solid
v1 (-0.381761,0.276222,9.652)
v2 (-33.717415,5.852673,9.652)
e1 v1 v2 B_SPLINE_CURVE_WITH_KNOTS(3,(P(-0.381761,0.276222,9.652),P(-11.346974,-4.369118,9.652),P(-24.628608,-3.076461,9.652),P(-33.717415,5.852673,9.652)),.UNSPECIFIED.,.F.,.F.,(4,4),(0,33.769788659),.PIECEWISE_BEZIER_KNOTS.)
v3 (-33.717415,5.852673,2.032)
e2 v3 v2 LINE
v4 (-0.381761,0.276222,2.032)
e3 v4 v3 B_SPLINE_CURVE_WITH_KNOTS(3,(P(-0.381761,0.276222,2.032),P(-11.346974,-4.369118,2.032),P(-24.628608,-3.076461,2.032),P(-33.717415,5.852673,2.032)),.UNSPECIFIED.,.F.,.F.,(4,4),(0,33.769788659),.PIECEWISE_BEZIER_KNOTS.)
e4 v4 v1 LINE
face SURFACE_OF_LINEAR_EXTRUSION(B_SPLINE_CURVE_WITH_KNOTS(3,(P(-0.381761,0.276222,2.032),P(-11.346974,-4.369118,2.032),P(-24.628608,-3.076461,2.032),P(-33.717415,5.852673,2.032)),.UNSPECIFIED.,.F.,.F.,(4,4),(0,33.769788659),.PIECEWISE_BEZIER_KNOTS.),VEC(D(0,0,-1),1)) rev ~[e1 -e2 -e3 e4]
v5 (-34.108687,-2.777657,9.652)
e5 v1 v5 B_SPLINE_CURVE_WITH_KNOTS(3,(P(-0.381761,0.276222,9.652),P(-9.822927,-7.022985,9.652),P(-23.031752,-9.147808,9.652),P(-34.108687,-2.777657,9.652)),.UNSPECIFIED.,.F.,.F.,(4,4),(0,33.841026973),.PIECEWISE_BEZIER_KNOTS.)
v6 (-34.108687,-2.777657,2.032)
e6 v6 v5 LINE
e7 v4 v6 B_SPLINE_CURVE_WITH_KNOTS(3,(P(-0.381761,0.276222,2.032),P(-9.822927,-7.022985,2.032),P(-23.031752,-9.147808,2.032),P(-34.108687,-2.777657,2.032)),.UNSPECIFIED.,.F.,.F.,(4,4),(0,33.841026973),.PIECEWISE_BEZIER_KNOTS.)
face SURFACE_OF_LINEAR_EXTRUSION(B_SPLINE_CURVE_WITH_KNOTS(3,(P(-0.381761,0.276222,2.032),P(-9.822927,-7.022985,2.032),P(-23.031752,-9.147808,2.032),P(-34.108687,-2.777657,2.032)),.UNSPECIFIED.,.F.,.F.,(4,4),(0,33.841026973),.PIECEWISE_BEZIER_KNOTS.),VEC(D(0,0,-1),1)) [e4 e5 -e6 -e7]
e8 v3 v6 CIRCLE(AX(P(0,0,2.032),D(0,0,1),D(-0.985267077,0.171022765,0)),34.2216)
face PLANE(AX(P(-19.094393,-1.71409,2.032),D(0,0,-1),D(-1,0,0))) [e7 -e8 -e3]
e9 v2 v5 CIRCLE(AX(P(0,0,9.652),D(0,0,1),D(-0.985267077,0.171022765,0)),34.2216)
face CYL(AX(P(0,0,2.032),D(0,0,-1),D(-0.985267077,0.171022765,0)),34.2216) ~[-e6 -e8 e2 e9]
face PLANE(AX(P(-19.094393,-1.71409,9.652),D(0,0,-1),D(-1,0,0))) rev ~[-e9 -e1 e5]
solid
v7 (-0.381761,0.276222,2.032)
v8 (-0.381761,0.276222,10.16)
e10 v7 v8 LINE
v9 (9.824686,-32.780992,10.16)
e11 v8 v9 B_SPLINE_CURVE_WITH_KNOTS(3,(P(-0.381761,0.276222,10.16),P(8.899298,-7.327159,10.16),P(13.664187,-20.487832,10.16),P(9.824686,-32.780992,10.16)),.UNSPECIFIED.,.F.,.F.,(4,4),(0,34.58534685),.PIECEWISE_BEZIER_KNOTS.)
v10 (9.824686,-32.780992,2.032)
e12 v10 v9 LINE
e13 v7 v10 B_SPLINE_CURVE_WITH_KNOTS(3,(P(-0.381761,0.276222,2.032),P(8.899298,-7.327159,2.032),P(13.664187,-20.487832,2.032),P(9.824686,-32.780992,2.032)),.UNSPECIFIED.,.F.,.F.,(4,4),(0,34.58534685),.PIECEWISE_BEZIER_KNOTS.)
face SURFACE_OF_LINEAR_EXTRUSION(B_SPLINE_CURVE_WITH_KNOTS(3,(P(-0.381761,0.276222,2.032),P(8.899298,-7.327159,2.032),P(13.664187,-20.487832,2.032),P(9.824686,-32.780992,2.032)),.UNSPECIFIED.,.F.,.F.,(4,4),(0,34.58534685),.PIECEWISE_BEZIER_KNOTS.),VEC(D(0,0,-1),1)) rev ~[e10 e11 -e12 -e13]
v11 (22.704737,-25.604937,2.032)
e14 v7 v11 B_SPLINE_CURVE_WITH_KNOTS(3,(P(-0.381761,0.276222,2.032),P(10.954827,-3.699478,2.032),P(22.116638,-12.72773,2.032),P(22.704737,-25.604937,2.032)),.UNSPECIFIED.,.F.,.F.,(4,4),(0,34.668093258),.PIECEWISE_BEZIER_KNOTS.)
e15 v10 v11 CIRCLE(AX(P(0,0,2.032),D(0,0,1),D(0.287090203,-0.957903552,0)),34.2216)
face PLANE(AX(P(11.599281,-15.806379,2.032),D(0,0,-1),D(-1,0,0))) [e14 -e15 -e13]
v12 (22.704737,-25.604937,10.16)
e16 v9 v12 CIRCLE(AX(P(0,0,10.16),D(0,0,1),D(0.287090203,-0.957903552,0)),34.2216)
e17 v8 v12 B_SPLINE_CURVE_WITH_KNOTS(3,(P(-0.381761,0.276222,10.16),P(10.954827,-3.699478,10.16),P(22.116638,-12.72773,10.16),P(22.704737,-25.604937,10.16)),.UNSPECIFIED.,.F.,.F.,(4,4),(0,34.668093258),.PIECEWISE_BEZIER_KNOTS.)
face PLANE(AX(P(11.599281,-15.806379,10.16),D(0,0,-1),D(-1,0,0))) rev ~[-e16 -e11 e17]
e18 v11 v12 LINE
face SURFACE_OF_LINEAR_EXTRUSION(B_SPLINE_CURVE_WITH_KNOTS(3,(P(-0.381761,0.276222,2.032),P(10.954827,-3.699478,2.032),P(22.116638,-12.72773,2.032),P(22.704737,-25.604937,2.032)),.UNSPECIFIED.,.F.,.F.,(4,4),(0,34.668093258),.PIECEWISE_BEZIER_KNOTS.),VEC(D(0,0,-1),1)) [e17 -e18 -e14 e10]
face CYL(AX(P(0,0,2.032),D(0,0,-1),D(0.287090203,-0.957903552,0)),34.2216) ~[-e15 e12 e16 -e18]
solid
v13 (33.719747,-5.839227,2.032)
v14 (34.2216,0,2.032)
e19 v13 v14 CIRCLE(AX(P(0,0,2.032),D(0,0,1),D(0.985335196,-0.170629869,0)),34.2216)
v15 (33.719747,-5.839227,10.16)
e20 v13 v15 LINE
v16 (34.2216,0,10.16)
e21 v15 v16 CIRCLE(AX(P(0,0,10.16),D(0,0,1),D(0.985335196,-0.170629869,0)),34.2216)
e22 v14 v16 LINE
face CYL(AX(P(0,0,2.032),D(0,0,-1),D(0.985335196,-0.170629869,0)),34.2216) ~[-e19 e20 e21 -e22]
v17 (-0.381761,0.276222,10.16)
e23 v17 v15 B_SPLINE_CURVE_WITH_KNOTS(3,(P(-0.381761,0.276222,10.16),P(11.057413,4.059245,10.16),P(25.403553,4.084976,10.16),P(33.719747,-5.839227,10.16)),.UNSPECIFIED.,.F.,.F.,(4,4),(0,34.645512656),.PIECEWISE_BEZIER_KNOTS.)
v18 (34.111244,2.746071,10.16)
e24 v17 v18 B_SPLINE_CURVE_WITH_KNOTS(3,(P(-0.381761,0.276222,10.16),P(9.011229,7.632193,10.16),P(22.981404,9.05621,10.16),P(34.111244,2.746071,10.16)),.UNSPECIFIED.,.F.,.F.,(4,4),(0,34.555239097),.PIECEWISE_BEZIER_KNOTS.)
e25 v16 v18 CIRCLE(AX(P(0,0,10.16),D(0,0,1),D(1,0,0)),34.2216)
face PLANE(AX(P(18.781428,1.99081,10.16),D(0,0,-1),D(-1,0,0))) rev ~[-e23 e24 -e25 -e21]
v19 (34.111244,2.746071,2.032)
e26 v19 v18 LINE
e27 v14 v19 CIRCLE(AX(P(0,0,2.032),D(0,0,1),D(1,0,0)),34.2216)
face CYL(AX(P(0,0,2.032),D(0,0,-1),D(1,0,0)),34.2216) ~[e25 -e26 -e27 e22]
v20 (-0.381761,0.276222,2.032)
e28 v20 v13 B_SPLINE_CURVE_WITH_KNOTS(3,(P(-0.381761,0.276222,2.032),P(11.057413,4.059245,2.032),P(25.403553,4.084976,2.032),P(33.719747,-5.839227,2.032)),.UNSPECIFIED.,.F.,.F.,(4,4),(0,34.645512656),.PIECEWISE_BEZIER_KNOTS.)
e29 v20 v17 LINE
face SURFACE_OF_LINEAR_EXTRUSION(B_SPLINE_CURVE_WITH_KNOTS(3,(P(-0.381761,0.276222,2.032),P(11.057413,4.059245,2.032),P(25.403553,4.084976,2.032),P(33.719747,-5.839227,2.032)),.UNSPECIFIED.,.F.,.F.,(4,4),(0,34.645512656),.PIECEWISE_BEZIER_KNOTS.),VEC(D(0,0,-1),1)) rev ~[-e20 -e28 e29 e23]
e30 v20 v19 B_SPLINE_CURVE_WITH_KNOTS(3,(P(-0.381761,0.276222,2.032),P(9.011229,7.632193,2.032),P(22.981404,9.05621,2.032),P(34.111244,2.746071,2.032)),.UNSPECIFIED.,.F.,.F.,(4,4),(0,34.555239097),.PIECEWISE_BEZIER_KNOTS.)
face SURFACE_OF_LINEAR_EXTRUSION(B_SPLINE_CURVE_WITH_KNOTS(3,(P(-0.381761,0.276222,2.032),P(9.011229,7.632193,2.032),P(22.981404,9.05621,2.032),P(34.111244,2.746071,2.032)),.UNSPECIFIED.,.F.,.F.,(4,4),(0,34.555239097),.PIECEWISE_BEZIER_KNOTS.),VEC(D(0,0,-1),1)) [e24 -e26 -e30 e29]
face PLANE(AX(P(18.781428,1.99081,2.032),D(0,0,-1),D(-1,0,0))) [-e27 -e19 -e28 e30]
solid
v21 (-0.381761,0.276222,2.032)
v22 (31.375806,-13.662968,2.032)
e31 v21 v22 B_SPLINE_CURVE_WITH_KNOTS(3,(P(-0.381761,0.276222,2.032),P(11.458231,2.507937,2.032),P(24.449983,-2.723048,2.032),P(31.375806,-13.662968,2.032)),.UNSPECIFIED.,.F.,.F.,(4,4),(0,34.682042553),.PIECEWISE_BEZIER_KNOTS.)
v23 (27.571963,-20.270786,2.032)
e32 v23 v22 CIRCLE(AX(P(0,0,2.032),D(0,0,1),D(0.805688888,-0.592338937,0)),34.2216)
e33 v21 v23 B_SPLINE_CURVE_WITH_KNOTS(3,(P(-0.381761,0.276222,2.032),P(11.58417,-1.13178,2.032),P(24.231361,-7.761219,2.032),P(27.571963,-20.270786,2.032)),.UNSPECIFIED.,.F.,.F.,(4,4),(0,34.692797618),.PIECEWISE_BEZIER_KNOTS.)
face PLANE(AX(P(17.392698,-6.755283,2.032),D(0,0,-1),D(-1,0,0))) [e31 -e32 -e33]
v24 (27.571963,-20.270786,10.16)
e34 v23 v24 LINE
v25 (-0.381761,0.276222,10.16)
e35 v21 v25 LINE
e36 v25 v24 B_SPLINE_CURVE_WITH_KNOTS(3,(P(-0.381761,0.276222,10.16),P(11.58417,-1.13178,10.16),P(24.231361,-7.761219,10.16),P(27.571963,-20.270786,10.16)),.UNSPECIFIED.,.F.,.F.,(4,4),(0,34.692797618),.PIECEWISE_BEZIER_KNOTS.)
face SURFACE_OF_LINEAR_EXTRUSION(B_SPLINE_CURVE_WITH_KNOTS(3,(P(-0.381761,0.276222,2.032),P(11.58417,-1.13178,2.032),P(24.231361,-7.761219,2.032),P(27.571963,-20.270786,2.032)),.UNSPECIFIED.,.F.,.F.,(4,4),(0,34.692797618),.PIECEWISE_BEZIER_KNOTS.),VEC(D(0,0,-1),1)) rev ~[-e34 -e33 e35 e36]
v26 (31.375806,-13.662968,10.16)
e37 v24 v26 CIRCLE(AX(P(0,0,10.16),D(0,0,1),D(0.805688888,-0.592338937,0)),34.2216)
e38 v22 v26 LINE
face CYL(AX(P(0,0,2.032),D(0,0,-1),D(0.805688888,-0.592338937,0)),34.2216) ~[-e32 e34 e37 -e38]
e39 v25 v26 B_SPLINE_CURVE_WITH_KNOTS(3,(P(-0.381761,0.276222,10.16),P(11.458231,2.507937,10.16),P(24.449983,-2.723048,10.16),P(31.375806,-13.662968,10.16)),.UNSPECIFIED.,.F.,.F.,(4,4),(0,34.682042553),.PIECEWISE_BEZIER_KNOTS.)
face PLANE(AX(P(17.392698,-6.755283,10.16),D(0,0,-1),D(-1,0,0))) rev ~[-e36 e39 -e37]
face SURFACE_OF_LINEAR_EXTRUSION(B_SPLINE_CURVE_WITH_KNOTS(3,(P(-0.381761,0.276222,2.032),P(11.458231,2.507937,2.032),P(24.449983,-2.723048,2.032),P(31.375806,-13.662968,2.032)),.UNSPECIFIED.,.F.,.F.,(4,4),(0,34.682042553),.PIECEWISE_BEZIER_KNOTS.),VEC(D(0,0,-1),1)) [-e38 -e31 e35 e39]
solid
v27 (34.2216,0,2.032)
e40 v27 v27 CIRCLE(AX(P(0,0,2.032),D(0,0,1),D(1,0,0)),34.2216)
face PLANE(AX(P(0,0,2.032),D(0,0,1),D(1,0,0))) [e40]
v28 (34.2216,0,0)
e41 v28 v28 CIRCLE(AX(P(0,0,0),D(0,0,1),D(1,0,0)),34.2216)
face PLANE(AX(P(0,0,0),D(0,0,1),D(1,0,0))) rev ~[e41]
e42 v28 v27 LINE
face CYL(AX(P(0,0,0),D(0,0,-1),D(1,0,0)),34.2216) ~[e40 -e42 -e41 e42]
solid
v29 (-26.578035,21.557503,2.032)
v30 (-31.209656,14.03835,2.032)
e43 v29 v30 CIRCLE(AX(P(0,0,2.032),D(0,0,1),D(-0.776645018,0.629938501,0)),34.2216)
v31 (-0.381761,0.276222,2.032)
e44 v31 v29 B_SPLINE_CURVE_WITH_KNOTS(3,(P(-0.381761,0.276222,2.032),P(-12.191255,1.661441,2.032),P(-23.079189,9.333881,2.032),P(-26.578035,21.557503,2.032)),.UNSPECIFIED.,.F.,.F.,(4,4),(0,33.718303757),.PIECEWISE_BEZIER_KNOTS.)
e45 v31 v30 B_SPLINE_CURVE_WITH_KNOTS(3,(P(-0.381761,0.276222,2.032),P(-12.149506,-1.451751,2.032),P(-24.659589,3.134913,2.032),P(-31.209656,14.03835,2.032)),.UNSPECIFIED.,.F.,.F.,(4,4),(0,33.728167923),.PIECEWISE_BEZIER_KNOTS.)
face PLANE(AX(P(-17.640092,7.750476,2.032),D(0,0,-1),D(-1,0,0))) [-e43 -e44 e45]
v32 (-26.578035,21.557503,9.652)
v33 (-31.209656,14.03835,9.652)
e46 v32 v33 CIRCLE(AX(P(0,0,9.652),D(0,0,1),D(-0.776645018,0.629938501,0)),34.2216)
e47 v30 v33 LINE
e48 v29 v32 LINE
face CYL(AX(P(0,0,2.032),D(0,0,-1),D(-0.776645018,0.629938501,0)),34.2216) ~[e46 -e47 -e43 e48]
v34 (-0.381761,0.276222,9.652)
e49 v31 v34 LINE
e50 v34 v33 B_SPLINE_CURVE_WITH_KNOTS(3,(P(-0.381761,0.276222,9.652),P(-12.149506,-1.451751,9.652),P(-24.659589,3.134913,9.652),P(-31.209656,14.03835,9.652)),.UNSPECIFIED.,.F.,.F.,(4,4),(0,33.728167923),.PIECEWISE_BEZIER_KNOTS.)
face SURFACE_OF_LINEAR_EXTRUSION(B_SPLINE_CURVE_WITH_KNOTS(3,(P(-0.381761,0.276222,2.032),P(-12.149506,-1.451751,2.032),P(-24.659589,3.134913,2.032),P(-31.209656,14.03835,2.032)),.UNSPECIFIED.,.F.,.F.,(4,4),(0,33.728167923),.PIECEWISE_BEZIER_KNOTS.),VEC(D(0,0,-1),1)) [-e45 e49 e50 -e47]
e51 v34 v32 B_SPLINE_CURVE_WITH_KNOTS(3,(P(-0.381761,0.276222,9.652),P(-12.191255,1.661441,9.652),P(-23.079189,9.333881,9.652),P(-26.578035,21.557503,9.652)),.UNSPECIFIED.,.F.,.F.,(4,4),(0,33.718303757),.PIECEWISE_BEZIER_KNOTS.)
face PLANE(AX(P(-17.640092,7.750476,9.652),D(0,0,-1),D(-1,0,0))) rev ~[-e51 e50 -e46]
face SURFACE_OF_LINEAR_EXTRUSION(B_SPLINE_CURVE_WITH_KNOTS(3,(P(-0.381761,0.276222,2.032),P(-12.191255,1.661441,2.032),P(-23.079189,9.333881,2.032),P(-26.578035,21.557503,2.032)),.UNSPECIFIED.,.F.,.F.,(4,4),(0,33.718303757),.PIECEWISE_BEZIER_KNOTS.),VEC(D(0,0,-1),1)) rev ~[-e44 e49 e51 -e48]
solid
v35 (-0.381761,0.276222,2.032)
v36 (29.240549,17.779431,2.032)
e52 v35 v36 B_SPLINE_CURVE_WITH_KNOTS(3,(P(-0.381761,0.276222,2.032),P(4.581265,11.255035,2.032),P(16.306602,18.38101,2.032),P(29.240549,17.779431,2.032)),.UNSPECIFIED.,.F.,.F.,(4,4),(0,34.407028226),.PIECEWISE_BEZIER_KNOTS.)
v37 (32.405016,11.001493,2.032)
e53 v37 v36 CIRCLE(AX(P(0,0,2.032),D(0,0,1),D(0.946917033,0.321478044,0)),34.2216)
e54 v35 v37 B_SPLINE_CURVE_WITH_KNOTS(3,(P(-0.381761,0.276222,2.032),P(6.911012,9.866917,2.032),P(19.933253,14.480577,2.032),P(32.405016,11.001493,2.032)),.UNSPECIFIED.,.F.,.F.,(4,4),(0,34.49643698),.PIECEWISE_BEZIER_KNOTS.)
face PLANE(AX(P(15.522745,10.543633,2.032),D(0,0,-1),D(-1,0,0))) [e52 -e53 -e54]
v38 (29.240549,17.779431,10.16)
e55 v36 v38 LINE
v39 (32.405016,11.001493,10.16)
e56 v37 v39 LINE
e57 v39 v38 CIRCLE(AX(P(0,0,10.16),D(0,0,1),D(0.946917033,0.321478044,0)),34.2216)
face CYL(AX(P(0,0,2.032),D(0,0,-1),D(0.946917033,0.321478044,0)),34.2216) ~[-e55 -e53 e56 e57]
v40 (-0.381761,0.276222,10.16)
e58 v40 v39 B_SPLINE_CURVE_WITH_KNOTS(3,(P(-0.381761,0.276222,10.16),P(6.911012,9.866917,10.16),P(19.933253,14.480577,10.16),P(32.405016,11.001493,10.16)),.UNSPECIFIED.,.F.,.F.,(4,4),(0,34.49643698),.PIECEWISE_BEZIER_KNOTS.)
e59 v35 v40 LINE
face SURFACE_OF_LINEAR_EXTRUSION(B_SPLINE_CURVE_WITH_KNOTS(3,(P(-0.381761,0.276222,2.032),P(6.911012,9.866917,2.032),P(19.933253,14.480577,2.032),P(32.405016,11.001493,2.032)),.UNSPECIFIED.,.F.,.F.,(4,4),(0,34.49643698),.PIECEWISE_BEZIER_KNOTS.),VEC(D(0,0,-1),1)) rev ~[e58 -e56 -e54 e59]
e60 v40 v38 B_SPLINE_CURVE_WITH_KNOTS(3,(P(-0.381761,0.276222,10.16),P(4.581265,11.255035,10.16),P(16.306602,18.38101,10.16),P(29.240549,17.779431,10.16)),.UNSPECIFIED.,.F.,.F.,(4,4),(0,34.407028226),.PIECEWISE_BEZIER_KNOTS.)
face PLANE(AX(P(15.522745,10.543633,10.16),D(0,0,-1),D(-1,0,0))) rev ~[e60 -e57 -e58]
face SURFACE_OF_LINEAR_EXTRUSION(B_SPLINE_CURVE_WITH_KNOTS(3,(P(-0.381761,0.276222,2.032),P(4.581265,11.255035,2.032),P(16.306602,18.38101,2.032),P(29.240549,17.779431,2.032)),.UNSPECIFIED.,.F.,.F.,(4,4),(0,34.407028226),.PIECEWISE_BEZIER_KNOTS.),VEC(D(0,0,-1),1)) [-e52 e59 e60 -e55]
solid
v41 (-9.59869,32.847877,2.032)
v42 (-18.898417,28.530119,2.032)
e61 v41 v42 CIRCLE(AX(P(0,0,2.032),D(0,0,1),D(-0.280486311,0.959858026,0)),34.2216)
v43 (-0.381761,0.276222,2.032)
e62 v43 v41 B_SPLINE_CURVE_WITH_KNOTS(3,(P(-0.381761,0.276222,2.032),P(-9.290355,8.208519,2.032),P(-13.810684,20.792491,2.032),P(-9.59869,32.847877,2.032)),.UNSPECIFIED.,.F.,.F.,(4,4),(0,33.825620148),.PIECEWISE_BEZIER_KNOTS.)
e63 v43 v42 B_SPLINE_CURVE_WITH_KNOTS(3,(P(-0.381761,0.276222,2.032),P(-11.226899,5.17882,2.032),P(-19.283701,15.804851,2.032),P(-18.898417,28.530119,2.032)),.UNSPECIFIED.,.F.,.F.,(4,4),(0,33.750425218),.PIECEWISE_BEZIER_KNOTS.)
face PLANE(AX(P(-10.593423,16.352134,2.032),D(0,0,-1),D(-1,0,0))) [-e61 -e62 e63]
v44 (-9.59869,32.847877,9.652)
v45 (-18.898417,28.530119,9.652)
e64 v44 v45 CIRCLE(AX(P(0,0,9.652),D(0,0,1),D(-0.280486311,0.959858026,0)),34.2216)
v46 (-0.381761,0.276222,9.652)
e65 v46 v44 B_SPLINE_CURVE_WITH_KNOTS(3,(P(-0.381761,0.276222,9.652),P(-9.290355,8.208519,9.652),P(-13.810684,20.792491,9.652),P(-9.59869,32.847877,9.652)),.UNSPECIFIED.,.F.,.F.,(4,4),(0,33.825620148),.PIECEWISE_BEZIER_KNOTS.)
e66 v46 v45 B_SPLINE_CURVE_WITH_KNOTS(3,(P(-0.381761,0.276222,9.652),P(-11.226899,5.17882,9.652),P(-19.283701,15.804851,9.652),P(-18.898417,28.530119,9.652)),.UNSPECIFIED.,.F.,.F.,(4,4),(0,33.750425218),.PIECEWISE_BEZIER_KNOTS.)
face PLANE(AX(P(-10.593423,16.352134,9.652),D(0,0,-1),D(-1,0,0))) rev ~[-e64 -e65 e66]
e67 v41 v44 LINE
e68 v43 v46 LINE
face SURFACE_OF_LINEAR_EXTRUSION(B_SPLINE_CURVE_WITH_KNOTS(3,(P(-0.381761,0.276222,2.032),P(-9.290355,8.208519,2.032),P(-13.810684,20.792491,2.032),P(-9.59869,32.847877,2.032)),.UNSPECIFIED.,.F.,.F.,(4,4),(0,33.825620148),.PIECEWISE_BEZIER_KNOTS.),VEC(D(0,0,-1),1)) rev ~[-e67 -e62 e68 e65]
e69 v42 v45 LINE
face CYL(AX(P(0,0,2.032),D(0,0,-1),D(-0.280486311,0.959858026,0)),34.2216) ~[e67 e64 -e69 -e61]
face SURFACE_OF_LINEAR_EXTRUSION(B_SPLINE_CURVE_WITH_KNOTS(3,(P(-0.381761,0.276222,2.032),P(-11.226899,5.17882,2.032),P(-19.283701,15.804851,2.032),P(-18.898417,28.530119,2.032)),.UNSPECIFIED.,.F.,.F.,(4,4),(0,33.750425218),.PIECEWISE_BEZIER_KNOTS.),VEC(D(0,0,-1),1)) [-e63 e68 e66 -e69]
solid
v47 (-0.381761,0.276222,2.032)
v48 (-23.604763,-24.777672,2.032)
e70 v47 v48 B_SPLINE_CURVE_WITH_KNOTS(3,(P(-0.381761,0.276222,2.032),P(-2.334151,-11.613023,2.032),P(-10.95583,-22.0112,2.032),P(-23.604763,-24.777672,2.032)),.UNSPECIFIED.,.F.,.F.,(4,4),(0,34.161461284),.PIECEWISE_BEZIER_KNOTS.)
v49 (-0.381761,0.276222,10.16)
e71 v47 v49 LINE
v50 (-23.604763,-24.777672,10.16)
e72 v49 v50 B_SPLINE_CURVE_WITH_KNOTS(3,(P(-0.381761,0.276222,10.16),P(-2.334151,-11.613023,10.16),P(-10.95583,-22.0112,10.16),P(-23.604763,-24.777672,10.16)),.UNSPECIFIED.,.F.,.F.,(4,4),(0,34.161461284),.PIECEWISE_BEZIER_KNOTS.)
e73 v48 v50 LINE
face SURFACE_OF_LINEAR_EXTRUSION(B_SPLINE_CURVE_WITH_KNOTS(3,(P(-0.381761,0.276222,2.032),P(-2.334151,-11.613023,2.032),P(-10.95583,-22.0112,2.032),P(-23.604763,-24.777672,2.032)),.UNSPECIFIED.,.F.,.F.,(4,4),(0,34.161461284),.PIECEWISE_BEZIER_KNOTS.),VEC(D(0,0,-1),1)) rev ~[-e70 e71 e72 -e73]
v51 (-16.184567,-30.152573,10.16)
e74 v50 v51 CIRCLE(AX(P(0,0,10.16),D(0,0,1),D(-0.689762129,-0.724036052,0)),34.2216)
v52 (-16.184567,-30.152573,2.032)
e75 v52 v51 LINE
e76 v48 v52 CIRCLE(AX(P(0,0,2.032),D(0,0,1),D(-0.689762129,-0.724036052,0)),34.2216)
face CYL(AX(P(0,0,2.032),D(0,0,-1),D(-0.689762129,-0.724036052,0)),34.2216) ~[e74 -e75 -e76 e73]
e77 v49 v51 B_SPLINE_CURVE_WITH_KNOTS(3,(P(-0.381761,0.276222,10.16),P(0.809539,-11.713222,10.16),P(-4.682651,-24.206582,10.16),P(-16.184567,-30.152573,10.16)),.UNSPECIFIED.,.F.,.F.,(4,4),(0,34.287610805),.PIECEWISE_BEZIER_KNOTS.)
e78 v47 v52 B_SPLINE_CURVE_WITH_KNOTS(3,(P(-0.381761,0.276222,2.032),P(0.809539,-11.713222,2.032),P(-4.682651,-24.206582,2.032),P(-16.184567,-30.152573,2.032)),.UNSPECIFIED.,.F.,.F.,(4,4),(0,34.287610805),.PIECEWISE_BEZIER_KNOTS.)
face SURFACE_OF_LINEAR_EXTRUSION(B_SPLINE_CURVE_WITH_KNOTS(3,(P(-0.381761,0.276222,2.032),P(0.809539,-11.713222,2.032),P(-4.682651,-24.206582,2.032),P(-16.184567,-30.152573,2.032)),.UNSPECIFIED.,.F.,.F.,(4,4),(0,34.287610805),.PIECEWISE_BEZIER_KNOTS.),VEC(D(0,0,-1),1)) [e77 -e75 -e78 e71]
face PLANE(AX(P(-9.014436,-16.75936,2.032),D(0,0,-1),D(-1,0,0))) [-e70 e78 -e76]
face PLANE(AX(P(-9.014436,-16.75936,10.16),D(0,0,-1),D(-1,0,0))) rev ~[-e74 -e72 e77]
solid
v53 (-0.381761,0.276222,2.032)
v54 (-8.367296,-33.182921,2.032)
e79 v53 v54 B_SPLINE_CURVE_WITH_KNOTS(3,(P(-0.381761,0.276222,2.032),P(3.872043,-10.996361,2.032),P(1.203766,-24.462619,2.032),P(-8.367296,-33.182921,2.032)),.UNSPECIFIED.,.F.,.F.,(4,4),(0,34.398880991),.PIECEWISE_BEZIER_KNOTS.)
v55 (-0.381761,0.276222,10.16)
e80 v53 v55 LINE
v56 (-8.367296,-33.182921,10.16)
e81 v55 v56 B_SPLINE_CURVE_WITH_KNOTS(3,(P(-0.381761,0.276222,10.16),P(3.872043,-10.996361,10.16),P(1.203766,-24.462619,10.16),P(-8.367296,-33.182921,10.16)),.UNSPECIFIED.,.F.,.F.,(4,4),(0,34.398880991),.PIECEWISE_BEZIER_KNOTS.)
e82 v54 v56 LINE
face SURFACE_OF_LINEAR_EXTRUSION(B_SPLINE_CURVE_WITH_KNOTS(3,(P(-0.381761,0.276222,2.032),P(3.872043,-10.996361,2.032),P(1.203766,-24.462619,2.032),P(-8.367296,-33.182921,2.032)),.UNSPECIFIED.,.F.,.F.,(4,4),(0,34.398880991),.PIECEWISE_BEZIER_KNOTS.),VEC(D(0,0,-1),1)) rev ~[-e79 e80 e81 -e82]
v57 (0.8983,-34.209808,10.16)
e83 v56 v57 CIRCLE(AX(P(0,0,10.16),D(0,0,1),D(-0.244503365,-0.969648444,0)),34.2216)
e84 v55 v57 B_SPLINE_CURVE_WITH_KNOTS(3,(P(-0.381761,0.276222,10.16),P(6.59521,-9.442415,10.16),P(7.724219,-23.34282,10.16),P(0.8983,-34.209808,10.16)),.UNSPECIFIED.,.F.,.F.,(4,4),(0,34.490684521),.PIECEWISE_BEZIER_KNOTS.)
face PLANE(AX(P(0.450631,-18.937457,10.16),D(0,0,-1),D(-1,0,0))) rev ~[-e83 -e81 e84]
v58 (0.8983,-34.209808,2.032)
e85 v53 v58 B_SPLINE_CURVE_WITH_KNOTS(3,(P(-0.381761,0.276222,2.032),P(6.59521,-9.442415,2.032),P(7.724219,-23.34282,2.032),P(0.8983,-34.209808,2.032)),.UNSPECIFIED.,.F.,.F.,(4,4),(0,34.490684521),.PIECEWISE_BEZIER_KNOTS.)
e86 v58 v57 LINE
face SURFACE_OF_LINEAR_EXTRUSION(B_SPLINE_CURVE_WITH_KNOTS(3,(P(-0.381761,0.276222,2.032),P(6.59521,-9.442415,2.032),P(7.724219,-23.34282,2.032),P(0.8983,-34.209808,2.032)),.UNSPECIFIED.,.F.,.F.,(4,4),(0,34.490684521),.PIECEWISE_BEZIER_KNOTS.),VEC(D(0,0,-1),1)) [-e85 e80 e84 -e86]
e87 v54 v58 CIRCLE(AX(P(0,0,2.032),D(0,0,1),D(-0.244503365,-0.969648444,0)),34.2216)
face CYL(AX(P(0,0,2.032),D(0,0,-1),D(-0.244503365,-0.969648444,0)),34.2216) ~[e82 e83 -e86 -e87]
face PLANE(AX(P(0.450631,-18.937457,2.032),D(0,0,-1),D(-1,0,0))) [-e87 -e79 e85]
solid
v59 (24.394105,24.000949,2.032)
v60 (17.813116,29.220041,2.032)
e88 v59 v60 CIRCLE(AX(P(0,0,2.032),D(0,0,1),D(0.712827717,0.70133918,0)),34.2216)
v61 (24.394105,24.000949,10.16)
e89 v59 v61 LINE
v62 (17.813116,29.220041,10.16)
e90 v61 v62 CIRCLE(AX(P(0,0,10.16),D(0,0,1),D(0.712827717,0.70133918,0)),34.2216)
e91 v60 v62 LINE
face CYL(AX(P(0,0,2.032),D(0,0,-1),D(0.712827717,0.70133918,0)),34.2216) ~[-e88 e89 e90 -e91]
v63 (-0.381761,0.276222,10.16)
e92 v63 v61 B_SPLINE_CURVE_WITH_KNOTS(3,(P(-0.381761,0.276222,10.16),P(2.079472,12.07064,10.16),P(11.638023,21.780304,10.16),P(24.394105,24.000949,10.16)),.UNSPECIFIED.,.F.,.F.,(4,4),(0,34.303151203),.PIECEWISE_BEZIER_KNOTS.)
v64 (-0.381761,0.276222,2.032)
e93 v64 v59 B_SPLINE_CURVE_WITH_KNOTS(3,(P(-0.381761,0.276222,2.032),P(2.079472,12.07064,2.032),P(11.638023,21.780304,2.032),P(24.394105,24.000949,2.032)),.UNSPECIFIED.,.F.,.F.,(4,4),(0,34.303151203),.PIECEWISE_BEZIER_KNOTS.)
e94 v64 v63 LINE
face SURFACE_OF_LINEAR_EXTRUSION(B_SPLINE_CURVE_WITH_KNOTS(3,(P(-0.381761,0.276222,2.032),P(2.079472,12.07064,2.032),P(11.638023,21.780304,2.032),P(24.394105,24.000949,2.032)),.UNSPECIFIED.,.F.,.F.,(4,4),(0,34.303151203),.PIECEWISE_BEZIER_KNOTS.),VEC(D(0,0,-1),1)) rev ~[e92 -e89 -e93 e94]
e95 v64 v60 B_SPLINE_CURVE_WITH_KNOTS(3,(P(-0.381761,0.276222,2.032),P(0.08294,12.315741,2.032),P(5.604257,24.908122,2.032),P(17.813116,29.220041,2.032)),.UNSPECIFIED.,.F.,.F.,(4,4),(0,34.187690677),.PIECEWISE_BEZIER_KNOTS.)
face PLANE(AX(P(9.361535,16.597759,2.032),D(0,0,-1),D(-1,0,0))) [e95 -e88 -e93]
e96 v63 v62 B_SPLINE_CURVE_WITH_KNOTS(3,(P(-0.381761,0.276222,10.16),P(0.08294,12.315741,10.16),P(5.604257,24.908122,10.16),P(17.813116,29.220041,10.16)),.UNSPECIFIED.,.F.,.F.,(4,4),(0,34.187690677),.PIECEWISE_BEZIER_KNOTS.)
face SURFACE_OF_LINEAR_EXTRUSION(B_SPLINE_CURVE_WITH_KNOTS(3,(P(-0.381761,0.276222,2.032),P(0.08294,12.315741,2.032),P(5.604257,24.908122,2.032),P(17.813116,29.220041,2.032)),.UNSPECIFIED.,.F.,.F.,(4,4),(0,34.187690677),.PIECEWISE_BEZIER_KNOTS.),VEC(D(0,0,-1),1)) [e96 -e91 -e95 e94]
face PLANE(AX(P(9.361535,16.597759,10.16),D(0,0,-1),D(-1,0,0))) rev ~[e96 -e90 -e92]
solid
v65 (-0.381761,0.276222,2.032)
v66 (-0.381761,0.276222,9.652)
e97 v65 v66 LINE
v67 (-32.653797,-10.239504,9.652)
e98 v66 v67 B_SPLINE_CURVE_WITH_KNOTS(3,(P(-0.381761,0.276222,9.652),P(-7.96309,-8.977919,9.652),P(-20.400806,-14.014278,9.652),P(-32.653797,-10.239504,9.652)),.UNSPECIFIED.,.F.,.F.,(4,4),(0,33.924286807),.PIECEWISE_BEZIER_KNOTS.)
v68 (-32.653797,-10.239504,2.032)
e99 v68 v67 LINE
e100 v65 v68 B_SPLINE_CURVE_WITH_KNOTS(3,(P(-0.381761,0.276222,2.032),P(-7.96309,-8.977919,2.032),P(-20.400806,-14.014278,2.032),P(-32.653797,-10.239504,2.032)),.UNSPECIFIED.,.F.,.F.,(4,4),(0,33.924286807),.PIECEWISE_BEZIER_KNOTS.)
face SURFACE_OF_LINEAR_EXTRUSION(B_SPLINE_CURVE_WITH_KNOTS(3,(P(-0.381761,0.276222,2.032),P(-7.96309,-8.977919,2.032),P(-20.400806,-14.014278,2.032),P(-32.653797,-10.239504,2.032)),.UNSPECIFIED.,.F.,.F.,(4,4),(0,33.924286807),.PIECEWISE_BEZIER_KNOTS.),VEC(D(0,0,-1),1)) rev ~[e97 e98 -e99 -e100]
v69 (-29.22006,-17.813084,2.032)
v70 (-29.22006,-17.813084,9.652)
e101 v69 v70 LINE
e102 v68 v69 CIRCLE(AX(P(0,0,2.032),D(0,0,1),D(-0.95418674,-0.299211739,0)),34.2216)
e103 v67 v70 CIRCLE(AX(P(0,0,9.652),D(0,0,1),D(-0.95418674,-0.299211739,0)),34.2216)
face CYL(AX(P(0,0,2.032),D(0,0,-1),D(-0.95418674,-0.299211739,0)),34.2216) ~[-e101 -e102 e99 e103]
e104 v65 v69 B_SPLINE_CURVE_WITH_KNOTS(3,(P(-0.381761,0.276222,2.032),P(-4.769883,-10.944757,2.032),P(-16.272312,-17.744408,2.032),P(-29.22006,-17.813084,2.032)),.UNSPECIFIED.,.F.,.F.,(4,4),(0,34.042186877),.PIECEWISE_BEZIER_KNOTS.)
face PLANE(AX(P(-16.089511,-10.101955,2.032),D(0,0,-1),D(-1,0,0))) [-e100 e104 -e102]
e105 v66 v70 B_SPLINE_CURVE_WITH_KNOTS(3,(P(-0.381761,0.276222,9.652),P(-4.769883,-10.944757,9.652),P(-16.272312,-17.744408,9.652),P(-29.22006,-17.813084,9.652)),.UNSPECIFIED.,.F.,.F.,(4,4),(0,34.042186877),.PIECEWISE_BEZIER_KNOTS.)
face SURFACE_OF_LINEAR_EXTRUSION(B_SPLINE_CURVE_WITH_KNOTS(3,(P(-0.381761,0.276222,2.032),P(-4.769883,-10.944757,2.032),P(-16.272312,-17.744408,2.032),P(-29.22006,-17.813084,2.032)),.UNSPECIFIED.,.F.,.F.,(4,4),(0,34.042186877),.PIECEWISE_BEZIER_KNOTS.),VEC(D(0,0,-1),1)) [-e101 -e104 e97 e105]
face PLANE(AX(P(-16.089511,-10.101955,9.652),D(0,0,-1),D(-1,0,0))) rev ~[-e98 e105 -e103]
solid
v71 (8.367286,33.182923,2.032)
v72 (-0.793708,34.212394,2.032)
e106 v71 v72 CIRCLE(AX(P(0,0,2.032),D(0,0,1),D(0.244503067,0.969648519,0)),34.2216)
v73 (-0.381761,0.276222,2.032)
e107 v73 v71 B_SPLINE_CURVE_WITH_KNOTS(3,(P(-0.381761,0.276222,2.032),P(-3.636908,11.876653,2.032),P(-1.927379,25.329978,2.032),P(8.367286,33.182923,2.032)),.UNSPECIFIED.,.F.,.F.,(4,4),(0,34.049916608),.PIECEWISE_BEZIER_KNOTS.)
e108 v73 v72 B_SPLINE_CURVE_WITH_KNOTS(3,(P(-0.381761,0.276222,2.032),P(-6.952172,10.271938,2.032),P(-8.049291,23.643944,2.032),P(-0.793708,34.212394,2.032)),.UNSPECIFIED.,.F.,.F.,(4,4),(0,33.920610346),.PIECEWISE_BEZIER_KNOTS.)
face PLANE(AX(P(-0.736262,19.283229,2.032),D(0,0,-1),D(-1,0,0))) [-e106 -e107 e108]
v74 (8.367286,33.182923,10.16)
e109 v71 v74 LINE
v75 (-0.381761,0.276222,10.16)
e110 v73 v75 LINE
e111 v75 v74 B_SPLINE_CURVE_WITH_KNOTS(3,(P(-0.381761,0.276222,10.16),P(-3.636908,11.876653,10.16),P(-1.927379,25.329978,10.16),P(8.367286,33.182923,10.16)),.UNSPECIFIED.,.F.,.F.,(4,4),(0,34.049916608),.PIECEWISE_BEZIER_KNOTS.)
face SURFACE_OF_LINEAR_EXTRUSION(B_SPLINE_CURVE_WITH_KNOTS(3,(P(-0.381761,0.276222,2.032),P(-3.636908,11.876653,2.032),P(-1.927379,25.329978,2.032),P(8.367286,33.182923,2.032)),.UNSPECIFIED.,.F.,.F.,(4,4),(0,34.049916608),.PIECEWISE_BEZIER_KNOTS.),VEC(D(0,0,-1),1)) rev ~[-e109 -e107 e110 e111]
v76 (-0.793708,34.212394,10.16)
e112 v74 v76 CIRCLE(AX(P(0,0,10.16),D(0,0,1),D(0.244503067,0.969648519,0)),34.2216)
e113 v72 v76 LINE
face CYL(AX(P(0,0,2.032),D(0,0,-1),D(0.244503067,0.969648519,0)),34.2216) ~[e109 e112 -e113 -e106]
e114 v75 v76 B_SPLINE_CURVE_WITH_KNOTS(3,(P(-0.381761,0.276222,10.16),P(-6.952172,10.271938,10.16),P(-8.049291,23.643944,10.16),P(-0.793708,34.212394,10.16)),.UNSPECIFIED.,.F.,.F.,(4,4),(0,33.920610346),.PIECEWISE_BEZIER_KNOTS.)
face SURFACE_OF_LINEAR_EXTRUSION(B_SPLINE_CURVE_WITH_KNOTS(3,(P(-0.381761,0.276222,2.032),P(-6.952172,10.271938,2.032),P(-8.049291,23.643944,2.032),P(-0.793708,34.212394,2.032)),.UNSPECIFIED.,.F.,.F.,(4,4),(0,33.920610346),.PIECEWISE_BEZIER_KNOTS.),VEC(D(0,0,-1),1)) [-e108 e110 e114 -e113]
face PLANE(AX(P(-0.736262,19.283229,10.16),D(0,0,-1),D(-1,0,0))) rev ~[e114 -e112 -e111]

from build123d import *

# Parameters (mm, degrees)
F0_R     = 34.2215996358
F1_DEPTH = 2.032
F3_DEPTH = 7.62
F4_DEPTH = 8.128


with BuildPart() as f1:
    # F0 (on Top) → F1 (new body)
    with BuildSketch(Plane.XY):
        Circle(F0_R)
    extrude(amount=F1_DEPTH)


with BuildPart() as f3:
    # F2 (on face) → F3 (new body)
    with BuildSketch(Plane.XY.offset(2.032)):
        with BuildLine():
            add(Edge.make_bspline(
                [(-0.3817611553, 0.2762220522), (-9.8229269799, -7.0229845844), (-23.0317515902, -9.1478075381), (-34.1086866499, -2.7776566832)],
                knots=[0, 0, 0, 0, 33.8410269735, 33.8410269735, 33.8410269735, 33.8410269735], degree=3))
            add(Edge.make_bspline(
                [(-0.3817611553, 0.2762220522), (-11.3469740052, -4.3691175462), (-24.6286084385, -3.076460801), (-33.7174154576, 5.8526725941)],
                knots=[0, 0, 0, 0, 33.7697886593, 33.7697886593, 33.7697886593, 33.7697886593], degree=3))
            ThreePointArc((-33.7174154576, 5.8526725941), (-34.1864838442, 1.5499045131), (-34.1086866499, -2.7776566832))
        make_face()
    extrude(amount=F3_DEPTH)


with BuildPart() as f3b:
    # F2 (on face) → F3, piece 2 (new body)
    with BuildSketch(Plane.XY.offset(2.032)):
        with BuildLine():
            add(Edge.make_bspline(
                [(-0.3817611553, 0.2762220522), (-12.149506396, -1.451750886), (-24.6595885941, 3.1349126352), (-31.209655543, 14.0383504202)],
                knots=[0, 0, 0, 0, 33.7281679226, 33.7281679226, 33.7281679226, 33.7281679226], degree=3))
            add(Edge.make_bspline(
                [(-0.3817611553, 0.2762220522), (-12.1912553322, 1.6614410134), (-23.0791894134, 9.3338814424), (-26.5780348787, 21.5575031861)],
                knots=[0, 0, 0, 0, 33.718303757, 33.718303757, 33.718303757, 33.718303757], degree=3))
            ThreePointArc((-26.5780348787, 21.5575031861), (-29.1374107574, 17.9479574321), (-31.209655543, 14.0383504202))
        make_face()
    extrude(amount=F3_DEPTH)


with BuildPart() as f3c:
    # F2 (on face) → F3, piece 3 (new body)
    with BuildSketch(Plane.XY.offset(2.032)):
        with BuildLine():
            add(Edge.make_bspline(
                [(-0.3817611553, 0.2762220522), (-11.2268992954, 5.1788199302), (-19.2837011166, 15.8048513984), (-18.8984173579, 28.5301192251)],
                knots=[0, 0, 0, 0, 33.7504252176, 33.7504252176, 33.7504252176, 33.7504252176], degree=3))
            add(Edge.make_bspline(
                [(-0.3817611553, 0.2762220522), (-9.2903550793, 8.2085192991), (-13.8106843451, 20.7924909339), (-9.598690233, 32.8478770614)],
                knots=[0, 0, 0, 0, 33.8256201476, 33.8256201476, 33.8256201476, 33.8256201476], degree=3))
            ThreePointArc((-9.598690233, 32.8478770614), (-14.4111777258, 31.0392628486), (-18.8984173579, 28.5301192251))
        make_face()
    extrude(amount=F3_DEPTH)


with BuildPart() as f3d:
    # F2 (on face) → F3, piece 4 (new body)
    with BuildSketch(Plane.XY.offset(2.032)):
        with BuildLine():
            add(Edge.make_bspline(
                [(-0.3817611553, 0.2762220522), (-4.7698827505, -10.9447565523), (-16.2723124598, -17.744408223), (-29.2200601048, -17.8130842109)],
                knots=[0, 0, 0, 0, 34.0421868771, 34.0421868771, 34.0421868771, 34.0421868771], degree=3))
            add(Edge.make_bspline(
                [(-0.3817611553, 0.2762220522), (-7.9630895822, -8.9779186328), (-20.4008060987, -14.0142782596), (-32.6537965984, -10.2395043504)],
                knots=[0, 0, 0, 0, 33.9242868068, 33.9242868068, 33.9242868068, 33.9242868068], degree=3))
            ThreePointArc((-32.6537965984, -10.2395043504), (-31.1678249772, -14.1309790115), (-29.2200601048, -17.8130842109))
        make_face()
    extrude(amount=F3_DEPTH)


with BuildPart() as f4:
    # F2 (on face) → F4 (new body)
    with BuildSketch(Plane.XY.offset(2.032)):
        with BuildLine():
            add(Edge.make_bspline(
                [(-0.3817611553, 0.2762220522), (0.082940128, 12.3157413404), (5.6042566129, 24.9081220199), (17.8131157398, 29.2200408842)],
                knots=[0, 0, 0, 0, 34.1876906767, 34.1876906767, 34.1876906767, 34.1876906767], degree=3))
            add(Edge.make_bspline(
                [(-0.3817611553, 0.2762220522), (2.0794716343, 12.070640441), (11.638023001, 21.7803036433), (24.3941047373, 24.0009486416)],
                knots=[0, 0, 0, 0, 34.3031512033, 34.3031512033, 34.3031512033, 34.3031512033], degree=3))
            ThreePointArc((24.3941047373, 24.0009486416), (21.2643385991, 26.813164408), (17.8131157398, 29.2200408842))
        make_face()
    extrude(amount=F4_DEPTH)


with BuildPart() as f4b:
    # F2 (on face) → F4, piece 2 (new body)
    with BuildSketch(Plane.XY.offset(2.032)):
        with BuildLine():
            add(Edge.make_bspline(
                [(-0.3817611553, 0.2762220522), (-6.9521720731, 10.2719382831), (-8.0492913603, 23.6439437008), (-0.7937078722, 34.2123940911)],
                knots=[0, 0, 0, 0, 33.9206103455, 33.9206103455, 33.9206103455, 33.9206103455], degree=3))
            add(Edge.make_bspline(
                [(-0.3817611553, 0.2762220522), (-3.6369075218, 11.8766528247), (-1.927379488, 25.3299783042), (8.3672860592, 33.182923404)],
                knots=[0, 0, 0, 0, 34.0499166081, 34.0499166081, 34.0499166081, 34.0499166081], degree=3))
            ThreePointArc((8.3672860592, 33.182923404), (3.8216127633, 34.0075455968), (-0.7937078722, 34.2123940911))
        make_face()
    extrude(amount=F4_DEPTH)


with BuildPart() as f4c:
    # F2 (on face) → F4, piece 3 (new body)
    with BuildSketch(Plane.XY.offset(2.032)):
        with BuildLine():
            add(Edge.make_bspline(
                [(-0.3817611553, 0.2762220522), (4.5812652267, 11.2550353353), (16.3066018252, 18.3810098079), (29.2405489712, 17.7794313041)],
                knots=[0, 0, 0, 0, 34.407028226, 34.407028226, 34.407028226, 34.407028226], degree=3))
            add(Edge.make_bspline(
                [(-0.3817611553, 0.2762220522), (6.9110119386, 9.866917156), (19.933253013, 14.480576699), (32.4050155829, 11.0014929305)],
                knots=[0, 0, 0, 0, 34.4964369798, 34.4964369798, 34.4964369798, 34.4964369798], degree=3))
            ThreePointArc((32.4050155829, 11.0014929305), (31.0085313978, 14.4771841939), (29.2405489712, 17.7794313041))
        make_face()
    extrude(amount=F4_DEPTH)


with BuildPart() as f4d:
    # F2 (on face) → F4, piece 4 (new body)
    with BuildSketch(Plane.XY.offset(2.032)):
        with BuildLine():
            add(Edge.make_bspline(
                [(-0.3817611553, 0.2762220522), (9.0112285915, 7.6321928641), (22.9814035401, 9.0562104119), (34.1112441304, 2.7460709217)],
                knots=[0, 0, 0, 0, 34.5552390972, 34.5552390972, 34.5552390972, 34.5552390972], degree=3))
            add(Edge.make_bspline(
                [(-0.3817611553, 0.2762220522), (11.0574133137, 4.0592445794), (25.403553133, 4.0849762887), (33.7197465731, -5.8392270616)],
                knots=[0, 0, 0, 0, 34.6455126563, 34.6455126563, 34.6455126563, 34.6455126563], degree=3))
            ThreePointArc((33.7197465731, -5.8392270616), (34.0959055363, -2.930376647), (34.2215996358, 0))
            ThreePointArc((34.2215996358, 0), (34.1939996296, 1.3741437193), (34.1112441304, 2.7460709217))
        make_face()
    extrude(amount=F4_DEPTH)


with BuildPart() as f4e:
    # F2 (on face) → F4, piece 5 (new body)
    with BuildSketch(Plane.XY.offset(2.032)):
        with BuildLine():
            add(Edge.make_bspline(
                [(-0.3817611553, 0.2762220522), (11.4582311751, 2.5079374438), (24.4499826823, -2.7230475612), (31.375805733, -13.662968061)],
                knots=[0, 0, 0, 0, 34.6820425534, 34.6820425534, 34.6820425534, 34.6820425534], degree=3))
            add(Edge.make_bspline(
                [(-0.3817611553, 0.2762220522), (11.5841697027, -1.1317803185), (24.2313613727, -7.7612188367), (27.5719625485, -20.2707859457)],
                knots=[0, 0, 0, 0, 34.6927976181, 34.6927976181, 34.6927976181, 34.6927976181], degree=3))
            ThreePointArc((27.5719625485, -20.2707859457), (29.6584837887, -17.0731432662), (31.375805733, -13.662968061))
        make_face()
    extrude(amount=F4_DEPTH)


with BuildPart() as f4f:
    # F2 (on face) → F4, piece 6 (new body)
    with BuildSketch(Plane.XY.offset(2.032)):
        with BuildLine():
            add(Edge.make_bspline(
                [(-0.3817611553, 0.2762220522), (10.9548271557, -3.6994776759), (22.116637971, -12.7277303702), (22.7047371631, -25.6049368674)],
                knots=[0, 0, 0, 0, 34.6680932581, 34.6680932581, 34.6680932581, 34.6680932581], degree=3))
            add(Edge.make_bspline(
                [(-0.3817611553, 0.2762220522), (8.8992981296, -7.3271590703), (13.6641874946, -20.4878318195), (9.8246859974, -32.7809918502)],
                knots=[0, 0, 0, 0, 34.5853468499, 34.5853468499, 34.5853468499, 34.5853468499], degree=3))
            ThreePointArc((9.8246859974, -32.7809918502), (16.6557732954, -29.8948674117), (22.7047371631, -25.6049368674))
        make_face()
    extrude(amount=F4_DEPTH)


with BuildPart() as f4g:
    # F2 (on face) → F4, piece 7 (new body)
    with BuildSketch(Plane.XY.offset(2.032)):
        with BuildLine():
            add(Edge.make_bspline(
                [(-0.3817611553, 0.2762220522), (6.5952103219, -9.4424145058), (7.7242192428, -23.3428196088), (0.8982999443, -34.2098076411)],
                knots=[0, 0, 0, 0, 34.4906845206, 34.4906845206, 34.4906845206, 34.4906845206], degree=3))
            add(Edge.make_bspline(
                [(-0.3817611553, 0.2762220522), (3.8720425566, -10.9963608797), (1.2037657243, -24.4626193395), (-8.3672962496, -33.1829208344)],
                knots=[0, 0, 0, 0, 34.3988809912, 34.3988809912, 34.3988809912, 34.3988809912], degree=3))
            ThreePointArc((-8.3672962496, -33.1829208344), (-3.7696287059, -34.0133471016), (0.8982999443, -34.2098076411))
        make_face()
    extrude(amount=F4_DEPTH)


with BuildPart() as f4h:
    # F2 (on face) → F4, piece 8 (new body)
    with BuildSketch(Plane.XY.offset(2.032)):
        with BuildLine():
            add(Edge.make_bspline(
                [(-0.3817611553, 0.2762220522), (0.8095385597, -11.7132223455), (-4.682651348, -24.2065817136), (-16.1845673995, -30.1525730199)],
                knots=[0, 0, 0, 0, 34.2876108052, 34.2876108052, 34.2876108052, 34.2876108052], degree=3))
            add(Edge.make_bspline(
                [(-0.3817611553, 0.2762220522), (-2.334150544, -11.6130229891), (-10.9558298804, -22.0112002609), (-23.6047634385, -24.7776718972)],
                knots=[0, 0, 0, 0, 34.1614612841, 34.1614612841, 34.1614612841, 34.1614612841], degree=3))
            ThreePointArc((-23.6047634385, -24.7776718972), (-20.0753605859, -27.7145770124), (-16.1845673995, -30.1525730199))
        make_face()
    extrude(amount=F4_DEPTH)


solid = Compound([f1.part, f3.part, f3b.part, f3c.part, f3d.part, f4.part, f4b.part, f4c.part, f4d.part, f4e.part, f4f.part, f4g.part, f4h.part])
